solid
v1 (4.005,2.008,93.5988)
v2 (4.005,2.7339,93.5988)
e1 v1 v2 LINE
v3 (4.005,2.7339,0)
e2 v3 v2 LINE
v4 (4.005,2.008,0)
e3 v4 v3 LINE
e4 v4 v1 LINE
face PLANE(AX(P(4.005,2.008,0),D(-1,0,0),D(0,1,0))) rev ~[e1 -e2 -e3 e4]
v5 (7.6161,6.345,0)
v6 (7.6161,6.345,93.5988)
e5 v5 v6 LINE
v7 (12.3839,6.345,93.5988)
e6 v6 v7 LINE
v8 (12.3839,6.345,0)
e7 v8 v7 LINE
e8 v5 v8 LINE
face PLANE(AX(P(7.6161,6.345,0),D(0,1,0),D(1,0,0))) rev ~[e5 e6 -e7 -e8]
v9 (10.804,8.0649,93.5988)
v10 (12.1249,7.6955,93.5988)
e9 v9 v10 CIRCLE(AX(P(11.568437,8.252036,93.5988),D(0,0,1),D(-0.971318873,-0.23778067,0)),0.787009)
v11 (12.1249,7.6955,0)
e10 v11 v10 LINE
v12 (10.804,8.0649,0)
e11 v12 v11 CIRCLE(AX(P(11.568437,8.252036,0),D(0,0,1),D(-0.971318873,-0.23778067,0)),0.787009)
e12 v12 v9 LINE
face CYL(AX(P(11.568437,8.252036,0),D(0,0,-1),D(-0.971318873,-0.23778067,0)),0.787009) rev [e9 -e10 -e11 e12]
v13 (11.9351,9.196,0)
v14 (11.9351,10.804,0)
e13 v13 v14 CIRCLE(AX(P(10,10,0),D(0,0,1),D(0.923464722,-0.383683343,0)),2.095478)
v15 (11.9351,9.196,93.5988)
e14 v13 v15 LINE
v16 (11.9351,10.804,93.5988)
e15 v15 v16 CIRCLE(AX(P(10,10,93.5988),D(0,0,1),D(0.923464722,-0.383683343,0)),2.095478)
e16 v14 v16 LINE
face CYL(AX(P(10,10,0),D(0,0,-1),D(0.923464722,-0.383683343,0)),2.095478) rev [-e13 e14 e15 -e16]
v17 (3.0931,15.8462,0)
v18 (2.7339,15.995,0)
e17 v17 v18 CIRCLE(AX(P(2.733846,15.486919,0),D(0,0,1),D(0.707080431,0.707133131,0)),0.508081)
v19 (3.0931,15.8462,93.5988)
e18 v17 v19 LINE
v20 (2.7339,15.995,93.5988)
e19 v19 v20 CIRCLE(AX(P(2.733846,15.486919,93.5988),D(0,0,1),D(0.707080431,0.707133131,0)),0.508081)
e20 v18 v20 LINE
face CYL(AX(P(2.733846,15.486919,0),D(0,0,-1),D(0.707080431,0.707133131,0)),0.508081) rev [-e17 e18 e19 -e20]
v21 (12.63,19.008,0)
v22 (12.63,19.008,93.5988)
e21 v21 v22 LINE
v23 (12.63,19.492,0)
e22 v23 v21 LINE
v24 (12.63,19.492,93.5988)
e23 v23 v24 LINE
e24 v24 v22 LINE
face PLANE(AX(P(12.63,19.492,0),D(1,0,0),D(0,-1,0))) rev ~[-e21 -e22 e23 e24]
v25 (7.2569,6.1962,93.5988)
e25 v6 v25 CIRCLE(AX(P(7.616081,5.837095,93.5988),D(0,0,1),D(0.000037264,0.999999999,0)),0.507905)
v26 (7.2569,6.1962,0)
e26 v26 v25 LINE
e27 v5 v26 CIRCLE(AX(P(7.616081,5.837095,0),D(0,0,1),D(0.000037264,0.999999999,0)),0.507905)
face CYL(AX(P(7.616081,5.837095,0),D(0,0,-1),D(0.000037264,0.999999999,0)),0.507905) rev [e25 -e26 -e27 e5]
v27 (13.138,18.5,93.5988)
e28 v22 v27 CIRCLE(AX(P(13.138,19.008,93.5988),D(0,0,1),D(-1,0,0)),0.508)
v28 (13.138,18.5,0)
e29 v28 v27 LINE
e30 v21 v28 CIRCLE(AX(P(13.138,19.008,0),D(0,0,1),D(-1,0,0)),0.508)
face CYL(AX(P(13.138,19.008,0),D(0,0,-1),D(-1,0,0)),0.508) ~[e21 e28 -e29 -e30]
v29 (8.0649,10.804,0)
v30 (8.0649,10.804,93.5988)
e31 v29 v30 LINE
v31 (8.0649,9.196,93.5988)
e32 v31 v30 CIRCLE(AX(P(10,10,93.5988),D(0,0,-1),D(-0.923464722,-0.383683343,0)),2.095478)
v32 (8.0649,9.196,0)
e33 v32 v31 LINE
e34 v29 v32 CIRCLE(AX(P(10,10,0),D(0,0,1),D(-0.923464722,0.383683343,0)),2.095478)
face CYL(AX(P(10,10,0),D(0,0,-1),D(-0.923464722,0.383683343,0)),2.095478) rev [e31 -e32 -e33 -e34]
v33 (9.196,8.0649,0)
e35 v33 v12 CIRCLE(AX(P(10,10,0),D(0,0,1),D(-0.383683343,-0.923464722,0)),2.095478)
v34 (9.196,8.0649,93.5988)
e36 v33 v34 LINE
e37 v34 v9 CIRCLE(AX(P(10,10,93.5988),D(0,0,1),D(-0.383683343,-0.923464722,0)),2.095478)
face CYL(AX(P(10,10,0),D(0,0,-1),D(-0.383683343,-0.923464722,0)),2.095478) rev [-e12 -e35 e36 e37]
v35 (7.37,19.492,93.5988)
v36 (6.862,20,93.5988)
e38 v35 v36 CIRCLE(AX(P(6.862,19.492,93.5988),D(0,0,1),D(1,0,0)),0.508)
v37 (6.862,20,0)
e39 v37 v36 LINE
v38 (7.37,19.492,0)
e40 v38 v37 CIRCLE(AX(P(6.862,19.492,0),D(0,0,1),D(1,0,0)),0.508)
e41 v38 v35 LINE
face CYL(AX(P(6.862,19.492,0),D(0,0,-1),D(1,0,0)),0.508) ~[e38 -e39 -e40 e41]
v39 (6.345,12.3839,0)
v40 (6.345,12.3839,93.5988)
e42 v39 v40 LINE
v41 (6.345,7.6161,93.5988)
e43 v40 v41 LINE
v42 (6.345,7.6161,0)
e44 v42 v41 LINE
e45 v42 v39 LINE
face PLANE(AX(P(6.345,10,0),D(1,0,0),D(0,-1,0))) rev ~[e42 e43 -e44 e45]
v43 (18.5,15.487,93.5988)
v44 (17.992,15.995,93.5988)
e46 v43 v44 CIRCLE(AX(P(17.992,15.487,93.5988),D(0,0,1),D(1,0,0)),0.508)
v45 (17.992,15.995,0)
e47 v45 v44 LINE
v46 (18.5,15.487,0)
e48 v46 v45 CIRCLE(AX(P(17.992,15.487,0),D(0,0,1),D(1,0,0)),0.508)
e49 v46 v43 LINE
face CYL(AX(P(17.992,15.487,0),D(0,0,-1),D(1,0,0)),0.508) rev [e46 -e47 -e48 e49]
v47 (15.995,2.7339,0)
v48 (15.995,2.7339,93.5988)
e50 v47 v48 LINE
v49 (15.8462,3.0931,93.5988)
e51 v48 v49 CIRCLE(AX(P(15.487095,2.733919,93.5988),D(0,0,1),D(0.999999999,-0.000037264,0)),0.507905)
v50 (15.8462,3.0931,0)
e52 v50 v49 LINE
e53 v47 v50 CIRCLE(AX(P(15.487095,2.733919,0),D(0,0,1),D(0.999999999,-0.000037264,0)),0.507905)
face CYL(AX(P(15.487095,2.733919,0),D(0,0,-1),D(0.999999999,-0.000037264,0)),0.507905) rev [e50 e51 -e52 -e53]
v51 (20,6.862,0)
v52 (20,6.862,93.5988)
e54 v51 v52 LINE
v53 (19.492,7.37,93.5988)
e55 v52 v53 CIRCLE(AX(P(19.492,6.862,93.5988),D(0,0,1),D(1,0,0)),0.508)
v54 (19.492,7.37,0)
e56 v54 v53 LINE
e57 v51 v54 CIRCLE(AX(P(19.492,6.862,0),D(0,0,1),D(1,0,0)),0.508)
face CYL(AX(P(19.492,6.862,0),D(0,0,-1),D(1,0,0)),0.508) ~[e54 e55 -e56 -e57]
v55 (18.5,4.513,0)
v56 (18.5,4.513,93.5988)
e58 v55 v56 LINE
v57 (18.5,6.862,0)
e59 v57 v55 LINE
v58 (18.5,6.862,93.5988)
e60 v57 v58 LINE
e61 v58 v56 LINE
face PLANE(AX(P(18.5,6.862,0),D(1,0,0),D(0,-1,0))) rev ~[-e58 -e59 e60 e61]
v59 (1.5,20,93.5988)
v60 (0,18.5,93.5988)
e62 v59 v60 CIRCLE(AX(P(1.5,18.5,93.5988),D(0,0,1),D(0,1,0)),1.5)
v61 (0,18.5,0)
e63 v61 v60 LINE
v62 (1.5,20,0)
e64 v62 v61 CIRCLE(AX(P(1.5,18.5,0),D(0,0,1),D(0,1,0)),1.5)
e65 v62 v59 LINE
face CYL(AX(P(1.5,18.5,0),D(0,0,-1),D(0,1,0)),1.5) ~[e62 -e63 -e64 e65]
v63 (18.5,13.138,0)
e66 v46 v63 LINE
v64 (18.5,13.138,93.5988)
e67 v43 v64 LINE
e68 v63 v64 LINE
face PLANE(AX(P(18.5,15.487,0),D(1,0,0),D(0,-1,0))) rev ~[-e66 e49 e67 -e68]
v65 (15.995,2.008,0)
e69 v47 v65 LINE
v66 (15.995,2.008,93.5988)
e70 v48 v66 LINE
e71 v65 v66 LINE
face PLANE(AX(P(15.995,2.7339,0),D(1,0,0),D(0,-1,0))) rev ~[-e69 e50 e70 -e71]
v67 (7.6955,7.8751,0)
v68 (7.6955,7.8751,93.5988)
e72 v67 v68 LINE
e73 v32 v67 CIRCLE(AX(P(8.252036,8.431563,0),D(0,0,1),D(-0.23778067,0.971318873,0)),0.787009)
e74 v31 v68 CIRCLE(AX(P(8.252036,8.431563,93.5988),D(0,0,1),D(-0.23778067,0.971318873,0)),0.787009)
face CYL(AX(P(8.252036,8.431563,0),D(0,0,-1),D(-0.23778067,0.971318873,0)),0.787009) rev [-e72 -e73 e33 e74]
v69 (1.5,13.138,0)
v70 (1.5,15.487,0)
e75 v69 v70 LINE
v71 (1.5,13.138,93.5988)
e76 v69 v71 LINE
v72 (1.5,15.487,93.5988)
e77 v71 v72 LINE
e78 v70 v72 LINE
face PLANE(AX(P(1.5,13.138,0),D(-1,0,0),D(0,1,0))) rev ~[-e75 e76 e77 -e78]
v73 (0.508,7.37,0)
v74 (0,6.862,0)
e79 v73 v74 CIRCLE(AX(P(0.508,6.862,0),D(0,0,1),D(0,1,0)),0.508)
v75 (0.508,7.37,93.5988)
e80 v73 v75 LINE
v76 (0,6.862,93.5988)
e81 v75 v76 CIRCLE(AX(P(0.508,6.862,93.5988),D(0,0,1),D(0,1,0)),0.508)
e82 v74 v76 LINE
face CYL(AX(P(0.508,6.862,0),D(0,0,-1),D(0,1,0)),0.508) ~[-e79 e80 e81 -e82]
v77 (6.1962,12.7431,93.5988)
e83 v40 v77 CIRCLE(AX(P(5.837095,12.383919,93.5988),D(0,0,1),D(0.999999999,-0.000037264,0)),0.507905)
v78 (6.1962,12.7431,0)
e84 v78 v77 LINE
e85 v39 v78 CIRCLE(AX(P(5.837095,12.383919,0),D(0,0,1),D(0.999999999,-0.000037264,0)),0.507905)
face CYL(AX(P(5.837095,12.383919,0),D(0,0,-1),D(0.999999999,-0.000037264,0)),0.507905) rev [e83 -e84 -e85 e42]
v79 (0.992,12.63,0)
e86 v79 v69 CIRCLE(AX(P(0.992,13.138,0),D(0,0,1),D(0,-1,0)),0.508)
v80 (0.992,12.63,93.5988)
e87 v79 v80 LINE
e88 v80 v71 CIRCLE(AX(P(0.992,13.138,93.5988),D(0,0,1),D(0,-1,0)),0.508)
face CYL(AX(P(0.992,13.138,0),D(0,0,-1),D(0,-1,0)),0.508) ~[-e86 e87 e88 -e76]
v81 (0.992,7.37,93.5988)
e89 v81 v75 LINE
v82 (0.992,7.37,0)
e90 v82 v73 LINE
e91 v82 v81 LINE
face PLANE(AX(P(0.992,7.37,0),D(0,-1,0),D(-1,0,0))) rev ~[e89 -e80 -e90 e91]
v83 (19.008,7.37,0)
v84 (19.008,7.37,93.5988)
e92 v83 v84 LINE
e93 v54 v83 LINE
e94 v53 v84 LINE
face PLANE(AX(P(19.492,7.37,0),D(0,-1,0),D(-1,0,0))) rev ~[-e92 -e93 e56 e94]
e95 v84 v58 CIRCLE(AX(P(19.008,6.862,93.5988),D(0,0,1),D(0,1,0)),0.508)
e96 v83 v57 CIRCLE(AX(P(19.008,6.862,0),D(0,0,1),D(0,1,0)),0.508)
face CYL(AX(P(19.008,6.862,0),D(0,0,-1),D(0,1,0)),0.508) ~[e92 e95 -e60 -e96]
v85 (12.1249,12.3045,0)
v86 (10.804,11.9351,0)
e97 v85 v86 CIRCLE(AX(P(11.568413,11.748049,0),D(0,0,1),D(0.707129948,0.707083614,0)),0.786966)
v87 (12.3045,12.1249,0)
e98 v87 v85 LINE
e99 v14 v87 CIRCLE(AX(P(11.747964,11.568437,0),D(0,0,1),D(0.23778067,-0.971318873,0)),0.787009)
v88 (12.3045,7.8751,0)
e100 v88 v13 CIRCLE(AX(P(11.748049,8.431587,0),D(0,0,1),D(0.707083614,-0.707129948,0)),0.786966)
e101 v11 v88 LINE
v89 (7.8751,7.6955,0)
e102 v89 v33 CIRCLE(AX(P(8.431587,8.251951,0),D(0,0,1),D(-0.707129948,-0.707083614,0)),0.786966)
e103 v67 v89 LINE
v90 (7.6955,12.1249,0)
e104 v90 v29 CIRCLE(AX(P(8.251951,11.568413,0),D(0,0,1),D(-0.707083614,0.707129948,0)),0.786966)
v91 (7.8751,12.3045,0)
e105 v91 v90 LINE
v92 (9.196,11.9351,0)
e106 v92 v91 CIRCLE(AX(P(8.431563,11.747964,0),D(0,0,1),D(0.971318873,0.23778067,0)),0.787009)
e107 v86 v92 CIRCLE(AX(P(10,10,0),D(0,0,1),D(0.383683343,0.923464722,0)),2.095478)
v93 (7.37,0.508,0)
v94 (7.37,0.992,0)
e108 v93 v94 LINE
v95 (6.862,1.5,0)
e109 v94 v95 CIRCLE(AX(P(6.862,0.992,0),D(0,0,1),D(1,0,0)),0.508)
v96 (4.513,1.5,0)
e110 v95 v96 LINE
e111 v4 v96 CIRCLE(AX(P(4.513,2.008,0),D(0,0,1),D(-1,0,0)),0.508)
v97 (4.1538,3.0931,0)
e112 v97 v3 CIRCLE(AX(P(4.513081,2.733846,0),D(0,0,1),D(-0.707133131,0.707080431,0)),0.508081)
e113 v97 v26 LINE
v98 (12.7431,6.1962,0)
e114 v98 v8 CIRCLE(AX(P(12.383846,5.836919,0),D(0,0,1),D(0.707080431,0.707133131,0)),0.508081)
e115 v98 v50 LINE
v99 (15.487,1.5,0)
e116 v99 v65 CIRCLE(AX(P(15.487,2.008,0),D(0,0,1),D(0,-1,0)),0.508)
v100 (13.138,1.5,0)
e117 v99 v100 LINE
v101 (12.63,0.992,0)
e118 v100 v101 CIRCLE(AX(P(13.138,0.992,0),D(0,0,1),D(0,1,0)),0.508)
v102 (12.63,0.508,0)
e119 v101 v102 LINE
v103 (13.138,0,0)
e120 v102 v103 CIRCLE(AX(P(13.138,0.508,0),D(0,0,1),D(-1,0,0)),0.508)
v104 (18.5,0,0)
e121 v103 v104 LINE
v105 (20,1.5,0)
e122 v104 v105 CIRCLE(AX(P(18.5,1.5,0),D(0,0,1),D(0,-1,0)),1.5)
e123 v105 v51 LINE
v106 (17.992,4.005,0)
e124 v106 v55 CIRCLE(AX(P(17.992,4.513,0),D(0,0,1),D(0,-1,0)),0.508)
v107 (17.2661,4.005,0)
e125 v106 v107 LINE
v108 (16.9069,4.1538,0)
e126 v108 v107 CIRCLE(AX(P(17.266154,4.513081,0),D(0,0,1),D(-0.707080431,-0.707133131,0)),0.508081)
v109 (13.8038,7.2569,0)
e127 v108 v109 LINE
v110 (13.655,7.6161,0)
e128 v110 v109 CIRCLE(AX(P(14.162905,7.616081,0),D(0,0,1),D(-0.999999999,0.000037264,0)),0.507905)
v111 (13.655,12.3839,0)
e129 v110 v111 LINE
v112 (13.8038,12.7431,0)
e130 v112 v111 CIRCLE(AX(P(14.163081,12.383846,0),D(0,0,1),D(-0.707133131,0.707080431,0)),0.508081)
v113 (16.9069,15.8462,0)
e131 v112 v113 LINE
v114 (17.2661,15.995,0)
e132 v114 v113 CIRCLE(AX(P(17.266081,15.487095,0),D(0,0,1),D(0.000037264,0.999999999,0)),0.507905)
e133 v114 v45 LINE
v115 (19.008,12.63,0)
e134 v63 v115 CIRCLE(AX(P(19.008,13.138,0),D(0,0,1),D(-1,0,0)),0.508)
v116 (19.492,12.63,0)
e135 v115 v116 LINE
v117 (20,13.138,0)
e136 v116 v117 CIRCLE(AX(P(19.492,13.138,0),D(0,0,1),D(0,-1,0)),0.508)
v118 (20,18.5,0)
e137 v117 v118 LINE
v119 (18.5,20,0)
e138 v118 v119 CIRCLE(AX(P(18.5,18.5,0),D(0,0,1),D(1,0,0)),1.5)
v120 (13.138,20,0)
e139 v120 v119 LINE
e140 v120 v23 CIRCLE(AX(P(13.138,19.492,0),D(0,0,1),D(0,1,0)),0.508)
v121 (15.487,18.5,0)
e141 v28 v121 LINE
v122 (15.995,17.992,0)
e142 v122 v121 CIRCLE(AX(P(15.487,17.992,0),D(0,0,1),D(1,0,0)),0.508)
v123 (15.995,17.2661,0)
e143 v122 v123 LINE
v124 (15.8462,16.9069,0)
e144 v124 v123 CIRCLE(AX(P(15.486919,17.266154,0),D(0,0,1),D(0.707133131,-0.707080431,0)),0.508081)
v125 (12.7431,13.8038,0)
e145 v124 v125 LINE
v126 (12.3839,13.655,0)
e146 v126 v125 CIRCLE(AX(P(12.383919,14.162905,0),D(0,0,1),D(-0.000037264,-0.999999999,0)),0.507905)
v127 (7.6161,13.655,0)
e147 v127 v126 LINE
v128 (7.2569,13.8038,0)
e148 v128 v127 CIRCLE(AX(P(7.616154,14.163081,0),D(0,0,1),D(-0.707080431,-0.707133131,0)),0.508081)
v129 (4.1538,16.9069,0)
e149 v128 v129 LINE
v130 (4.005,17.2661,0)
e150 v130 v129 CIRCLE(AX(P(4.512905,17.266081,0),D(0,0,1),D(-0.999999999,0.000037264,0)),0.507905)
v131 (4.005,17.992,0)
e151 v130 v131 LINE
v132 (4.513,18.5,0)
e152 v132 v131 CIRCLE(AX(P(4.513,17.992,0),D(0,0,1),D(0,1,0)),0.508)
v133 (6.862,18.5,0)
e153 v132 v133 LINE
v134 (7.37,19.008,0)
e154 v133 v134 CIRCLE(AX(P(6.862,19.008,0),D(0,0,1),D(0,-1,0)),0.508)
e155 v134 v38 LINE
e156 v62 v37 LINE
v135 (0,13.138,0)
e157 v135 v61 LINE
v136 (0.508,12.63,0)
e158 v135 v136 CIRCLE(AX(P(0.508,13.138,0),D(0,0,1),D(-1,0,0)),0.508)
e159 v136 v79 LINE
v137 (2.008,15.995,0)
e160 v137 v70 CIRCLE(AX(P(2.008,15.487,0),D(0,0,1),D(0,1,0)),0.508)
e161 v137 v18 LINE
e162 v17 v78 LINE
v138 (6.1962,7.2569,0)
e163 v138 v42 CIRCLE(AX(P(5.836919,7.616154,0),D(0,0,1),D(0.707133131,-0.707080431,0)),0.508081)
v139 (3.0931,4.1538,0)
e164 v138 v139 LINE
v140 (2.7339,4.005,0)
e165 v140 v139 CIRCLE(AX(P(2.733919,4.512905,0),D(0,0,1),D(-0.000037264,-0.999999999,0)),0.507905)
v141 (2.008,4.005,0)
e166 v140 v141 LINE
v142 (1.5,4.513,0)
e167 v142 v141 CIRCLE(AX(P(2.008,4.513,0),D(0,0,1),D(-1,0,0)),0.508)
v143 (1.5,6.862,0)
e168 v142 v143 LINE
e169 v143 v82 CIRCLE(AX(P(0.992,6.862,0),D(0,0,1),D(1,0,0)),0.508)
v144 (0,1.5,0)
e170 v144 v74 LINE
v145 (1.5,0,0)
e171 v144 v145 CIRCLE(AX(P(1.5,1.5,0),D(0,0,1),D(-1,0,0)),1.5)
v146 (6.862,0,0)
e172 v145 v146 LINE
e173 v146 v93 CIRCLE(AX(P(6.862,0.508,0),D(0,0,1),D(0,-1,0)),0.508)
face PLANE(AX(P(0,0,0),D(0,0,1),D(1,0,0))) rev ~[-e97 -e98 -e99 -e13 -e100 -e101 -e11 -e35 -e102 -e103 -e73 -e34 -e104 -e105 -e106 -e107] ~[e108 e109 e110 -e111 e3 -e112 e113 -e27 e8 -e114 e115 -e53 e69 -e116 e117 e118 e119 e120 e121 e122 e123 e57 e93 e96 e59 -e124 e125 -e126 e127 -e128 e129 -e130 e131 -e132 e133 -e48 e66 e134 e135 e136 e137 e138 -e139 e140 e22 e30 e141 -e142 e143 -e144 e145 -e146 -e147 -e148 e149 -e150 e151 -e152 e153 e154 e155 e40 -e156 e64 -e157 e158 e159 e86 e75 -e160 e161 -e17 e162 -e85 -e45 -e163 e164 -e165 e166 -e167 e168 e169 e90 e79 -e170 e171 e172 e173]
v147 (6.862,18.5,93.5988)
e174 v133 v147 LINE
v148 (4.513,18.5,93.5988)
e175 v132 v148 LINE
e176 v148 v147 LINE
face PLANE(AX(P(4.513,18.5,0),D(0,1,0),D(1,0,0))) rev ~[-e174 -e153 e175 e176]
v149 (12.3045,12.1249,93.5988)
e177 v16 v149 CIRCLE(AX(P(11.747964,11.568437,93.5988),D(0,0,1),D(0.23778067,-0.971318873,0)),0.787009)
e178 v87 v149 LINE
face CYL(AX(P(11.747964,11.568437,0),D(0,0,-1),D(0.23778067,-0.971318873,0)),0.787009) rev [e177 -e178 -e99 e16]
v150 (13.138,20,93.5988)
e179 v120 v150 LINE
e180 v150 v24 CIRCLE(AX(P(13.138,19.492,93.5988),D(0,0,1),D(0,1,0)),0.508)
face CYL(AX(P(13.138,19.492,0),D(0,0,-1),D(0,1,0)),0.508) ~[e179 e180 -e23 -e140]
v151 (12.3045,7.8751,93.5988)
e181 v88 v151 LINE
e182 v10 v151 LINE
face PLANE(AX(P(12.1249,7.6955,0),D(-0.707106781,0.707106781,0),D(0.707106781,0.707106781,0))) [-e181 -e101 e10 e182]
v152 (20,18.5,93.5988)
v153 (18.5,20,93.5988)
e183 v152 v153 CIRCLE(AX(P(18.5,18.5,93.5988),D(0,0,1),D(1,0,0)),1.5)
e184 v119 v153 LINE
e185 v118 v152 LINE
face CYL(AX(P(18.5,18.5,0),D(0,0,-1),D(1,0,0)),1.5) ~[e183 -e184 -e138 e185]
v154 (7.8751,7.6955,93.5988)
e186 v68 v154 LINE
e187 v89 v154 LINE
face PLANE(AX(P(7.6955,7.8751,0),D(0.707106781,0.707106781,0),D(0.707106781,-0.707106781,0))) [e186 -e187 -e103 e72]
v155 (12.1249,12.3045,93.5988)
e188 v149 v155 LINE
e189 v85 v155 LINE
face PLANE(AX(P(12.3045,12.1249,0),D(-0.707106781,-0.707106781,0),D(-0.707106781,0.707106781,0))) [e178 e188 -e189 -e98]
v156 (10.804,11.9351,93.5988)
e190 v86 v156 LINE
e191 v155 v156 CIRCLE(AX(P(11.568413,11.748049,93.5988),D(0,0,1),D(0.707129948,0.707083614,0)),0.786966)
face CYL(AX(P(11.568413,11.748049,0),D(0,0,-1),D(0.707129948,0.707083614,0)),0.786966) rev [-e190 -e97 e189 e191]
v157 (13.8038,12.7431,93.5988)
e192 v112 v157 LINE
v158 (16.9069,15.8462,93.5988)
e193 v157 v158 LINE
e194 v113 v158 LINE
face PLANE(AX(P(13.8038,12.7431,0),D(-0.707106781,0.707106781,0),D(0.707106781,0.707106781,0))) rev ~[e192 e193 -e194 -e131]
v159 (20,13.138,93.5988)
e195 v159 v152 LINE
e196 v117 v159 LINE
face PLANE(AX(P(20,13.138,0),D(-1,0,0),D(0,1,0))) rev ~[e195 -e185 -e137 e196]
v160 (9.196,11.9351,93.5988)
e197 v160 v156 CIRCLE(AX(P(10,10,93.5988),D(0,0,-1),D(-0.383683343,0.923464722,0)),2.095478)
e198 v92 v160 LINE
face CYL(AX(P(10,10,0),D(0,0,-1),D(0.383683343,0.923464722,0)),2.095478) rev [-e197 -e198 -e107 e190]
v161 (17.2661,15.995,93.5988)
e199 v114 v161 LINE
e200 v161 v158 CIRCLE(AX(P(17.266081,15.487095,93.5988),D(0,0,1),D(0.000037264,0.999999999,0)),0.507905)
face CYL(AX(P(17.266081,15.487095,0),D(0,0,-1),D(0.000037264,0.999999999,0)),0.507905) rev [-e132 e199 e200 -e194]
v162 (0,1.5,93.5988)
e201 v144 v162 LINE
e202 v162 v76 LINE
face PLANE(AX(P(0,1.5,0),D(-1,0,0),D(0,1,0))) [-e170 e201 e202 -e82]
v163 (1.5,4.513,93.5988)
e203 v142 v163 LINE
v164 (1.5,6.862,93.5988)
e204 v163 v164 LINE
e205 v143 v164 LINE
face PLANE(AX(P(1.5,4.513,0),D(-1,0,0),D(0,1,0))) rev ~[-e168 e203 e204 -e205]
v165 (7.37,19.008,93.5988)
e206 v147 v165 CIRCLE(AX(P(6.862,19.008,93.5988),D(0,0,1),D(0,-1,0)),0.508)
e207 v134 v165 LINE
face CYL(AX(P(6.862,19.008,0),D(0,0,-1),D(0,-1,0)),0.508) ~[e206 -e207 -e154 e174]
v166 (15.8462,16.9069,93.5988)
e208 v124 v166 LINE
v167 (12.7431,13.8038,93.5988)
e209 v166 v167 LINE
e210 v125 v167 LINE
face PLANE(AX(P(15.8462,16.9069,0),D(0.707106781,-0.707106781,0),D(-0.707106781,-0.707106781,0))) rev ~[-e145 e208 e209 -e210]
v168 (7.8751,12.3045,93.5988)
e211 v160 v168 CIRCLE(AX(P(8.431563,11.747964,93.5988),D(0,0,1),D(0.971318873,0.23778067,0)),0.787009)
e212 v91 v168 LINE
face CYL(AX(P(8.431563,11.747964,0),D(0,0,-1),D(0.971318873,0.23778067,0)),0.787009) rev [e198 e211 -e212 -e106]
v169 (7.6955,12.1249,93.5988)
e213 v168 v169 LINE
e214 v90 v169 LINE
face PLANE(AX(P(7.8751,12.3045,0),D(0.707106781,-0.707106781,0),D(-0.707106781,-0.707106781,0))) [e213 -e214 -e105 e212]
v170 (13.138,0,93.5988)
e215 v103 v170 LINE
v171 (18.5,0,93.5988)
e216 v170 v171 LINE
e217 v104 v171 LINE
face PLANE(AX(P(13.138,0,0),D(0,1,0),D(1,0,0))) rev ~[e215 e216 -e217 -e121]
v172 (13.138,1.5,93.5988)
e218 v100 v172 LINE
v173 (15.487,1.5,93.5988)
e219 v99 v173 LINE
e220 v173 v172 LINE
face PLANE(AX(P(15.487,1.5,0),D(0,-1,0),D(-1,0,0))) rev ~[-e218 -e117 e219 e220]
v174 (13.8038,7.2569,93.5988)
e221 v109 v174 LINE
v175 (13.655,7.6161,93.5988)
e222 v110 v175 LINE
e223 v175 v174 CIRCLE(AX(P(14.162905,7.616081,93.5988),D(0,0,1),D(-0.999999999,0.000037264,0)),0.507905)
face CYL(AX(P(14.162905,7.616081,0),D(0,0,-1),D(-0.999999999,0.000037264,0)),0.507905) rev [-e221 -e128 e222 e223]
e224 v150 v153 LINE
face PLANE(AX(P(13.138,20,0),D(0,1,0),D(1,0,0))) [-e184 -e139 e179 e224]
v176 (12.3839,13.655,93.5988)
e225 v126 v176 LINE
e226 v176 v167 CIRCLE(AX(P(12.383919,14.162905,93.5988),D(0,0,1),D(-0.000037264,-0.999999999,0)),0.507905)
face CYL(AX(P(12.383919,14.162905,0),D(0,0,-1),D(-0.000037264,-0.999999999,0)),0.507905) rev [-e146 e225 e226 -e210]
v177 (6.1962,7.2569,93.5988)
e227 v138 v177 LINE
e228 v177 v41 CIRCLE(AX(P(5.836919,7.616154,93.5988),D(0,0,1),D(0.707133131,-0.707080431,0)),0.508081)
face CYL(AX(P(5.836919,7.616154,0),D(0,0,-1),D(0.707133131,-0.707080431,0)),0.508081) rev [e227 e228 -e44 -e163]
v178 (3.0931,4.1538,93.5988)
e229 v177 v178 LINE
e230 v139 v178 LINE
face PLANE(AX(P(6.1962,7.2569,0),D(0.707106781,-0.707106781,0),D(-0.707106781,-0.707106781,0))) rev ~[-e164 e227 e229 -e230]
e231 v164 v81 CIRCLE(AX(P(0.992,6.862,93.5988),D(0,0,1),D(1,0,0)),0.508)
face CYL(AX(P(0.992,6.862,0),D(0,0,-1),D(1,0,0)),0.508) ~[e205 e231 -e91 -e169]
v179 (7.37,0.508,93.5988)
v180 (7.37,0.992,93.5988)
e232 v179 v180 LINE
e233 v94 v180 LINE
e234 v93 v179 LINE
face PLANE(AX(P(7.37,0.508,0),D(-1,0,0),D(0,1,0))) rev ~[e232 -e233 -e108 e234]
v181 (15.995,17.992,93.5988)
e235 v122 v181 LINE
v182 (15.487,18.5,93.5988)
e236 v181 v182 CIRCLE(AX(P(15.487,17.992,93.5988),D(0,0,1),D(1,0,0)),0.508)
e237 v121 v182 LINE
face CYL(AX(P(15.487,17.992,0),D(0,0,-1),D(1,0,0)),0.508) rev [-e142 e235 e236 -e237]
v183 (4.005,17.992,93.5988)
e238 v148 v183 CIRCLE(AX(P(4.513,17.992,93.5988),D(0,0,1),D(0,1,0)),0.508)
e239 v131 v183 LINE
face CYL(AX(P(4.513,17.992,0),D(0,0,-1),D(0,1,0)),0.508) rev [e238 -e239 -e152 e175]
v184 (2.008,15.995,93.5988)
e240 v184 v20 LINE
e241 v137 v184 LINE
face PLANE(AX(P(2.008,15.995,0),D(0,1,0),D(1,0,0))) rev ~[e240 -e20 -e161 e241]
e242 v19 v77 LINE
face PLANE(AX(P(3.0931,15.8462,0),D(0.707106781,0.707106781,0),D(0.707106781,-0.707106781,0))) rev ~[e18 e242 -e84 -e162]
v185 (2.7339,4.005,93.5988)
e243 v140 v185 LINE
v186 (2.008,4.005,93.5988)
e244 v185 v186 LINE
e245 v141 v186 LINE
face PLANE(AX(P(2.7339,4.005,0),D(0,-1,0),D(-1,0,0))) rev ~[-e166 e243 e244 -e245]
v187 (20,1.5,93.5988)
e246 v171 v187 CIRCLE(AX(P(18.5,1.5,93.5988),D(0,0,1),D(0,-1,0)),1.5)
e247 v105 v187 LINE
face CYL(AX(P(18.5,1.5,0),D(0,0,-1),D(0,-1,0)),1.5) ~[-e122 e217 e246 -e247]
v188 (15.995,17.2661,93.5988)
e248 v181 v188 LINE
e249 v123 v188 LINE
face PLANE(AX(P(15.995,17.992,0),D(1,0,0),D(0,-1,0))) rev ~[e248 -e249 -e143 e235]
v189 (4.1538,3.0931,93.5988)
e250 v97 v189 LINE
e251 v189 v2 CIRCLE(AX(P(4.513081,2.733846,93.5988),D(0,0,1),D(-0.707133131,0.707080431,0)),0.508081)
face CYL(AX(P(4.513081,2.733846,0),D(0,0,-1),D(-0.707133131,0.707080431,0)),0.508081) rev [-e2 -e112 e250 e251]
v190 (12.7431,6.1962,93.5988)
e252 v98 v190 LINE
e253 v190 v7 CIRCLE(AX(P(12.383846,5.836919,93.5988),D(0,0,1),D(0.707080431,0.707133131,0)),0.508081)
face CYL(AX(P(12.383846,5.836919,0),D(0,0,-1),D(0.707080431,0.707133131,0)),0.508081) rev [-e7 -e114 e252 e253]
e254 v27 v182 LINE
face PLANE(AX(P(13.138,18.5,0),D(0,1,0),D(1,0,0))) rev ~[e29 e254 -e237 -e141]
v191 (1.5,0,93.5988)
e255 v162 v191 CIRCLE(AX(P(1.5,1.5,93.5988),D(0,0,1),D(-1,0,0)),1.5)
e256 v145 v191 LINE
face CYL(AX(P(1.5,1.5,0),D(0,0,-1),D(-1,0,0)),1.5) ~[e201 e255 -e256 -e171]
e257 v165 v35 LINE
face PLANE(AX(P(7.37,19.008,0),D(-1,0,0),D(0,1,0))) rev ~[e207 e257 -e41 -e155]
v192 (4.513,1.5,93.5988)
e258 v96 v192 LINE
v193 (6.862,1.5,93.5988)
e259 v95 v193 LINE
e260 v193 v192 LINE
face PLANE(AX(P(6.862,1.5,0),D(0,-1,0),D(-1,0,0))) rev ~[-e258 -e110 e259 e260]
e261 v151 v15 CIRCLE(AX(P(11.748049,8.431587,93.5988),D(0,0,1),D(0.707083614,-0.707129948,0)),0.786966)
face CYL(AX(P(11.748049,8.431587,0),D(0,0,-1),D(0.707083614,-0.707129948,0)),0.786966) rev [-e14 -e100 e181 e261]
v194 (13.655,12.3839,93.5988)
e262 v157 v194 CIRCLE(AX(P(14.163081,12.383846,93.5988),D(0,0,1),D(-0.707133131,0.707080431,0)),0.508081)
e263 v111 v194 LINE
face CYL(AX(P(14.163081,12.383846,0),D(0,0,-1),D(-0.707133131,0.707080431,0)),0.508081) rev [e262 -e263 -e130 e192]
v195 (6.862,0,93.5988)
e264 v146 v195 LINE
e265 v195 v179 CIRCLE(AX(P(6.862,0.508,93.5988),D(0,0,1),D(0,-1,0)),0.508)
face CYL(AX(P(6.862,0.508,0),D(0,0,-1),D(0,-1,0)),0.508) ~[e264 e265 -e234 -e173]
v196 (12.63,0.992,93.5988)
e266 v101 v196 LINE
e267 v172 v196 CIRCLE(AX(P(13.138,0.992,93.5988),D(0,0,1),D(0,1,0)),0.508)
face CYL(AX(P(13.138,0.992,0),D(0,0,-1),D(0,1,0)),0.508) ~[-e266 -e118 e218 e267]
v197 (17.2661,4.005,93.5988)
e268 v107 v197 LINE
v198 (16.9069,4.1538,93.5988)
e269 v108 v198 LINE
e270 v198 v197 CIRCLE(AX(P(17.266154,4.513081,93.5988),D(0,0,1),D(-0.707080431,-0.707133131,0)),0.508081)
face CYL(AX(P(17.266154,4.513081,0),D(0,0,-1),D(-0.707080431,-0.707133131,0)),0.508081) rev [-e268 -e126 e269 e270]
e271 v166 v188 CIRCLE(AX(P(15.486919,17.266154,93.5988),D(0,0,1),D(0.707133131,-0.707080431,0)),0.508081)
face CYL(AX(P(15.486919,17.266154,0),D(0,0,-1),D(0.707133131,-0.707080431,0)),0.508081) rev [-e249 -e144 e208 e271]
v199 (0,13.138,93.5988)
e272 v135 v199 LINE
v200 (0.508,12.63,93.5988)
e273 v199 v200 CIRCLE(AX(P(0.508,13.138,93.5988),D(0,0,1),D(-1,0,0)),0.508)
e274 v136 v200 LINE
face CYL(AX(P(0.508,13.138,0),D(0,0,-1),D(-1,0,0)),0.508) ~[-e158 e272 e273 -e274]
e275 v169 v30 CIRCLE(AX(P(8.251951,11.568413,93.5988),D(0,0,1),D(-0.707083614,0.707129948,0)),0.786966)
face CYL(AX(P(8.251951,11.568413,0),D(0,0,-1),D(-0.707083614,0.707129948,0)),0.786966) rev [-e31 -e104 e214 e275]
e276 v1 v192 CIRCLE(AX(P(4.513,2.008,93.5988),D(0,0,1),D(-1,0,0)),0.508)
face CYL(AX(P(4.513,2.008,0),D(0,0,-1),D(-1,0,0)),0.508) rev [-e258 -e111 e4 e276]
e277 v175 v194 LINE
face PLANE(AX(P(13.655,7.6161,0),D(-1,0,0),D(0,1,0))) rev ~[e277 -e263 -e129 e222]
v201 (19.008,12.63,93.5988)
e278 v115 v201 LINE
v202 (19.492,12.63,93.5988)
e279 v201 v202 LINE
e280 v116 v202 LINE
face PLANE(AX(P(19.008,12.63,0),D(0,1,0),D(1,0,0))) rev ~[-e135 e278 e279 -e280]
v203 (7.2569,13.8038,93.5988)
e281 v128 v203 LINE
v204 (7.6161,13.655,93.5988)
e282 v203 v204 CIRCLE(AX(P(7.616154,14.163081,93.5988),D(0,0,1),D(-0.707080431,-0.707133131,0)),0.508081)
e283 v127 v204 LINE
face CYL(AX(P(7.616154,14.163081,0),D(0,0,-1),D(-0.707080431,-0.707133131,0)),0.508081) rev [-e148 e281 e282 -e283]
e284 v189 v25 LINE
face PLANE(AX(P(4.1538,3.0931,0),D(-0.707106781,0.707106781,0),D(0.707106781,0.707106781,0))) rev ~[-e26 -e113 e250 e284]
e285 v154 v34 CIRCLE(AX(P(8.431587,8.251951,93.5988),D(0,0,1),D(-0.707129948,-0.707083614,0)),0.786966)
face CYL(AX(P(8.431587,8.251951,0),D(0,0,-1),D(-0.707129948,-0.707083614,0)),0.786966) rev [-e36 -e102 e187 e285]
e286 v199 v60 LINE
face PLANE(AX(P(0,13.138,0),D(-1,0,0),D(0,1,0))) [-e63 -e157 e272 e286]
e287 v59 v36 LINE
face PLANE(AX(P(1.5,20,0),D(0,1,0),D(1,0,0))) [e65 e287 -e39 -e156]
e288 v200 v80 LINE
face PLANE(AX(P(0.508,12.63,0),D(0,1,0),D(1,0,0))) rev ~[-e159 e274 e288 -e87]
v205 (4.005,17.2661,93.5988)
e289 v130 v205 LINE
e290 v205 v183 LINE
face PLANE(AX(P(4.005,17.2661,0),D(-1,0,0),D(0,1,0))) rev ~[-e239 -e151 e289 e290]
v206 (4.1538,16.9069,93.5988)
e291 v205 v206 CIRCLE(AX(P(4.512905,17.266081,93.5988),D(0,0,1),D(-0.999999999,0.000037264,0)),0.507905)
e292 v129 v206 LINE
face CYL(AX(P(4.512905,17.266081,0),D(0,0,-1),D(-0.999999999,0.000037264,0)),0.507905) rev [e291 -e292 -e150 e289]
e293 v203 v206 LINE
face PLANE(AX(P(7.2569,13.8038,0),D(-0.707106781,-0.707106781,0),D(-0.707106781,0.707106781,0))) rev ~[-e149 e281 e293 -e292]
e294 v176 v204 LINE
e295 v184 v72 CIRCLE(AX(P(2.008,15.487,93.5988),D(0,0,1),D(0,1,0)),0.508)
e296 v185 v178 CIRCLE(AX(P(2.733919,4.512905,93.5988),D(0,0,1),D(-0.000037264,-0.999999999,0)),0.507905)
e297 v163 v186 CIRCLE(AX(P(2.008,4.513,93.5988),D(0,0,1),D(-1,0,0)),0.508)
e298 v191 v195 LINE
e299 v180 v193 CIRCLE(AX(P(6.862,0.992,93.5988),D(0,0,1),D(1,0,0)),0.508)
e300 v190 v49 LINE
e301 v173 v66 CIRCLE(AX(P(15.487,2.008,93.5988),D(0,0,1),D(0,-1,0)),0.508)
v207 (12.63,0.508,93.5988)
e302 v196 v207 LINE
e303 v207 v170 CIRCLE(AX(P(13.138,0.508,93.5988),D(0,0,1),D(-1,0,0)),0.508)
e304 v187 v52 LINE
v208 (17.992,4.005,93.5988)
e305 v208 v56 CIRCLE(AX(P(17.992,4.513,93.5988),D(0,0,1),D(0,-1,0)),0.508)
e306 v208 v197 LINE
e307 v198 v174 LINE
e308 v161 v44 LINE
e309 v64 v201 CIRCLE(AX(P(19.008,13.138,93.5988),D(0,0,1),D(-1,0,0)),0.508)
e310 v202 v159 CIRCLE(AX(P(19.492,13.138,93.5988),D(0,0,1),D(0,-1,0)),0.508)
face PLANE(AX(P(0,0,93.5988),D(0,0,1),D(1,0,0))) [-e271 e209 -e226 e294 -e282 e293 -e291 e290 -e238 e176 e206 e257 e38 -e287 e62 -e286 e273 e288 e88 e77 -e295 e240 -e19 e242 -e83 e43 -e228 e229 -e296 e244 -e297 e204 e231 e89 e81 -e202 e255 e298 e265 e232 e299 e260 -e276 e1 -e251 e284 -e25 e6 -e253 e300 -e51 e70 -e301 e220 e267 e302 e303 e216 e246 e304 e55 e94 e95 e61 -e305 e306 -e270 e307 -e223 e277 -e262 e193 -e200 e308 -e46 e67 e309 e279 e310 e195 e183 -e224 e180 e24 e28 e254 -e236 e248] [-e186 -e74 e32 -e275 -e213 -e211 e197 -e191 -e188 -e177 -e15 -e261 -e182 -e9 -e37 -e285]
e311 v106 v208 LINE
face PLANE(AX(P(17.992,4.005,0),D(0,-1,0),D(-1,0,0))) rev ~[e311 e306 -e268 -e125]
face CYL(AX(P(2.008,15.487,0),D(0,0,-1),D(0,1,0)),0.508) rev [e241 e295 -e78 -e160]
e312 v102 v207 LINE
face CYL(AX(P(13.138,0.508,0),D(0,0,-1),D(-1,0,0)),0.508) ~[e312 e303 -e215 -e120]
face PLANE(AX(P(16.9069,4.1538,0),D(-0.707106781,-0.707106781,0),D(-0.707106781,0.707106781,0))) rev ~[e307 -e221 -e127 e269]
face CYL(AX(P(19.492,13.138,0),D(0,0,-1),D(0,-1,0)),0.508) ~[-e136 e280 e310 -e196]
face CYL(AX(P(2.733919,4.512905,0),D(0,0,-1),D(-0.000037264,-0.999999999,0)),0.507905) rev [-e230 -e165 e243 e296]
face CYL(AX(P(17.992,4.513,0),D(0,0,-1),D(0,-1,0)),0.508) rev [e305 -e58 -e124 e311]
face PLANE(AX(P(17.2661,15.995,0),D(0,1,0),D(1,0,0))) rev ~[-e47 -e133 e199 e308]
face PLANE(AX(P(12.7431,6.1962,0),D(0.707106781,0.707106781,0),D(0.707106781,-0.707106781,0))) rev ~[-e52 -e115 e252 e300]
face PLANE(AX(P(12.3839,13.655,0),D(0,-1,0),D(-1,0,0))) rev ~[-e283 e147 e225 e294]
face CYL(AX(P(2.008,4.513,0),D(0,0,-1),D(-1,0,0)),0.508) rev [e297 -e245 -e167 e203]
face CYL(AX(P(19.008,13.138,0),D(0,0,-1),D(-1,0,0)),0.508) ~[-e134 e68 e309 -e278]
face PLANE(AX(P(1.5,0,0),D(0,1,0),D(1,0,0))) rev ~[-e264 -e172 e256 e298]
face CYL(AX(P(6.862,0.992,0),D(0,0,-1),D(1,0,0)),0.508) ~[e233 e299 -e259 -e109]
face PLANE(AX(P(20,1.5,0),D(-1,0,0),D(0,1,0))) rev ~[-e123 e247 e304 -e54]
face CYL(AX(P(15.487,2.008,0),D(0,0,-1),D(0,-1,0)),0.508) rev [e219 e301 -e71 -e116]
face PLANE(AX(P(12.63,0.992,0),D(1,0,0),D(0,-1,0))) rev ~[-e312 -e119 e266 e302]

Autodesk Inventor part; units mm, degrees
ref_plane "YZ Plane" through (0, 0, 0) normal (1, 0, 0) x (0, 1, 0)
ref_plane "XZ Plane" through (0, 0, 0) normal (0, 1, 0) x (-1, 0, 0)
sketch "Sketch1" plane through (0, 0, 0) normal (0, 0, 1) x (1, 0, 0)
  line L0 (0, 0) -> (20, 0) projected
  line L1 (20, 0) -> (20, 20) projected
  line L2 (0, 20) -> (20, 20) projected
  line L3 (0, 0) -> (0, 20) projected
  line L4 (0, 20) -> (10, 20)
  line L5 (10, 20) -> (10, 10)
  line L6 (10, 10) -> (0, 10)
  line L7 (0, 10) -> (0, 20)
  arc A0 (10.804, 8.0649) -> (12.1249, 7.6955) centre (11.5684, 8.252) ccw
  line L8 (12.1249, 7.6955) -> (12.3045, 7.8751)
  arc A1 (12.3045, 7.8751) -> (11.9351, 9.196) centre (11.748, 8.4316) ccw
  arc A2 (11.9351, 9.196) -> (11.9351, 10.804) centre (10, 10) ccw
  arc A3 (11.9351, 10.804) -> (12.3045, 12.1249) centre (11.748, 11.5684) ccw
  line L9 (12.3045, 12.1249) -> (12.1249, 12.3045)
  arc A4 (12.1249, 12.3045) -> (10.804, 11.9351) centre (11.5684, 11.748) ccw
  arc A5 (10.804, 11.9351) -> (9.196, 11.9351) centre (10, 10) ccw
  arc A6 (9.196, 11.9351) -> (7.8751, 12.3045) centre (8.4316, 11.748) ccw
  line L10 (7.8751, 12.3045) -> (7.6955, 12.1249)
  arc A7 (7.6955, 12.1249) -> (8.0649, 10.804) centre (8.252, 11.5684) ccw
  arc A8 (8.0649, 10.804) -> (8.0649, 9.196) centre (10, 10) ccw
  arc A9 (8.0649, 9.196) -> (7.6955, 7.8751) centre (8.252, 8.4316) ccw
  line L11 (7.6955, 7.8751) -> (7.8751, 7.6955)
  arc A10 (7.8751, 7.6955) -> (9.196, 8.0649) centre (8.4316, 8.252) ccw
  arc A11 (9.196, 8.0649) -> (10.804, 8.0649) centre (10, 10) ccw
  line L12 (19.008, 12.63) -> (19.492, 12.63)
  arc A12 (18.5, 13.138) -> (19.008, 12.63) centre (19.008, 13.138) ccw
  line L13 (18.5, 15.487) -> (18.5, 13.138)
  arc A13 (18.5, 15.487) -> (17.992, 15.995) centre (17.992, 15.487) ccw
  line L14 (17.2661, 15.995) -> (17.992, 15.995)
  arc A14 (17.2661, 15.995) -> (16.9069, 15.8462) centre (17.2661, 15.487) ccw
  line L15 (13.8038, 12.7431) -> (16.9069, 15.8462)
  arc A15 (13.8038, 12.7431) -> (13.655, 12.3839) centre (14.163, 12.3839) ccw
  line L16 (13.655, 7.6161) -> (13.655, 12.3839)
  arc A16 (13.655, 7.6161) -> (13.8038, 7.2569) centre (14.163, 7.6161) ccw
  line L17 (16.9069, 4.1538) -> (13.8038, 7.2569)
  arc A17 (16.9069, 4.1538) -> (17.2661, 4.005) centre (17.2661, 4.513) ccw
  line L18 (17.992, 4.005) -> (17.2661, 4.005)
  arc A18 (17.992, 4.005) -> (18.5, 4.513) centre (17.992, 4.513) ccw
  line L19 (18.5, 6.862) -> (18.5, 4.513)
  arc A19 (19.008, 7.37) -> (18.5, 6.862) centre (19.008, 6.862) ccw
  line L20 (19.492, 7.37) -> (19.008, 7.37)
  arc A20 (20, 6.862) -> (19.492, 7.37) centre (19.492, 6.862) ccw
  line L21 (20, 1.5) -> (20, 6.862)
  arc A21 (18.5, 0) -> (20, 1.5) centre (18.5, 1.5) ccw
  line L22 (13.138, 0) -> (18.5, 0)
  arc A22 (12.63, 0.508) -> (13.138, 0) centre (13.138, 0.508) ccw
  line L23 (12.63, 0.992) -> (12.63, 0.508)
  arc A23 (13.138, 1.5) -> (12.63, 0.992) centre (13.138, 0.992) ccw
  line L24 (15.487, 1.5) -> (13.138, 1.5)
  arc A24 (15.487, 1.5) -> (15.995, 2.008) centre (15.487, 2.008) ccw
  line L25 (15.995, 2.7339) -> (15.995, 2.008)
  arc A25 (15.995, 2.7339) -> (15.8462, 3.0931) centre (15.487, 2.7339) ccw
  line L26 (12.7431, 6.1962) -> (15.8462, 3.0931)
  arc A26 (12.7431, 6.1962) -> (12.3839, 6.345) centre (12.3839, 5.837) ccw
  line L27 (7.6161, 6.345) -> (12.3839, 6.345)
  arc A27 (7.6161, 6.345) -> (7.2569, 6.1962) centre (7.6161, 5.837) ccw
  line L28 (4.1538, 3.0931) -> (7.2569, 6.1962)
  arc A28 (4.1538, 3.0931) -> (4.005, 2.7339) centre (4.513, 2.7339) ccw
  line L29 (4.005, 2.008) -> (4.005, 2.7339)
  arc A29 (4.005, 2.008) -> (4.513, 1.5) centre (4.513, 2.008) ccw
  line L30 (6.862, 1.5) -> (4.513, 1.5)
  arc A30 (7.37, 0.992) -> (6.862, 1.5) centre (6.862, 0.992) ccw
  line L31 (7.37, 0.508) -> (7.37, 0.992)
  arc A31 (6.862, 0) -> (7.37, 0.508) centre (6.862, 0.508) ccw
  line L32 (1.5, 0) -> (6.862, 0)
  arc A32 (0, 1.5) -> (1.5, 0) centre (1.5, 1.5) ccw
  line L33 (0, 6.862) -> (0, 1.5)
  arc A33 (0.508, 7.37) -> (0, 6.862) centre (0.508, 6.862) ccw
  line L34 (0.992, 7.37) -> (0.508, 7.37)
  arc A34 (1.5, 6.862) -> (0.992, 7.37) centre (0.992, 6.862) ccw
  line L35 (1.5, 4.513) -> (1.5, 6.862)
  arc A35 (1.5, 4.513) -> (2.008, 4.005) centre (2.008, 4.513) ccw
  line L36 (2.7339, 4.005) -> (2.008, 4.005)
  arc A36 (2.7339, 4.005) -> (3.0931, 4.1538) centre (2.7339, 4.513) ccw
  line L37 (6.1962, 7.2569) -> (3.0931, 4.1538)
  arc A37 (6.1962, 7.2569) -> (6.345, 7.6161) centre (5.837, 7.6161) ccw
  line L38 (6.345, 12.3839) -> (6.345, 7.6161)
  arc A38 (6.345, 12.3839) -> (6.1962, 12.7431) centre (5.837, 12.3839) ccw
  line L39 (3.0931, 15.8462) -> (6.1962, 12.7431)
  arc A39 (3.0931, 15.8462) -> (2.7339, 15.995) centre (2.7339, 15.487) ccw
  line L40 (2.008, 15.995) -> (2.7339, 15.995)
  arc A40 (2.008, 15.995) -> (1.5, 15.487) centre (2.008, 15.487) ccw
  line L41 (1.5, 13.138) -> (1.5, 15.487)
  arc A41 (0.992, 12.63) -> (1.5, 13.138) centre (0.992, 13.138) ccw
  line L42 (0.508, 12.63) -> (0.992, 12.63)
  arc A42 (0, 13.138) -> (0.508, 12.63) centre (0.508, 13.138) ccw
  line L43 (0, 18.5) -> (0, 13.138)
  arc A43 (1.5, 20) -> (0, 18.5) centre (1.5, 18.5) ccw
  line L44 (6.862, 20) -> (1.5, 20)
  arc A44 (7.37, 19.492) -> (6.862, 20) centre (6.862, 19.492) ccw
  line L45 (7.37, 19.008) -> (7.37, 19.492)
  arc A45 (6.862, 18.5) -> (7.37, 19.008) centre (6.862, 19.008) ccw
  line L46 (4.513, 18.5) -> (6.862, 18.5)
  arc A46 (4.513, 18.5) -> (4.005, 17.992) centre (4.513, 17.992) ccw
  line L47 (4.005, 17.2661) -> (4.005, 17.992)
  arc A47 (4.005, 17.2661) -> (4.1538, 16.9069) centre (4.513, 17.2661) ccw
  line L48 (7.2569, 13.8038) -> (4.1538, 16.9069)
  arc A48 (7.2569, 13.8038) -> (7.6161, 13.655) centre (7.6161, 14.163) ccw
  line L49 (12.3839, 13.655) -> (7.6161, 13.655)
  arc A49 (12.3839, 13.655) -> (12.7431, 13.8038) centre (12.3839, 14.163) ccw
  line L50 (15.8462, 16.9069) -> (12.7431, 13.8038)
  arc A50 (15.8462, 16.9069) -> (15.995, 17.2661) centre (15.487, 17.2661) ccw
  line L51 (15.995, 17.992) -> (15.995, 17.2661)
  arc A51 (15.995, 17.992) -> (15.487, 18.5) centre (15.487, 17.992) ccw
  line L52 (13.138, 18.5) -> (15.487, 18.5)
  arc A52 (12.63, 19.008) -> (13.138, 18.5) centre (13.138, 19.008) ccw
  line L53 (12.63, 19.492) -> (12.63, 19.008)
  arc A53 (13.138, 20) -> (12.63, 19.492) centre (13.138, 19.492) ccw
  line L54 (18.5, 20) -> (13.138, 20)
  arc A54 (20, 18.5) -> (18.5, 20) centre (18.5, 18.5) ccw
  line L55 (20, 13.138) -> (20, 18.5)
  arc A55 (19.492, 12.63) -> (20, 13.138) centre (19.492, 13.138) ccw
  point P0 (8.0649, 10.804)
  point P1 (7.8751, 12.3045)
  point P2 (9.196, 11.9351)
  point P3 (10.804, 11.9351)
  point P4 (12.3045, 12.1249)
  point P5 (11.9351, 10.804)
  point P6 (11.9351, 9.196)
  point P7 (12.1249, 7.6955)
  point P8 (10.804, 8.0649)
  point P9 (9.196, 8.0649)
  point P10 (7.6955, 7.8751)
  point P11 (8.0649, 9.196)
  point P12 (3.0931, 4.1538)
  point P13 (2.008, 4.005)
  point P14 (1.5, 6.862)
  point P15 (0.508, 7.37)
  point P16 (0, 1.5)
  point P17 (6.862, 0)
  point P18 (7.37, 0.508)
  point P19 (7.37, 0.992)
  point P20 (4.513, 1.5)
  point P21 (4.005, 2.7339)
  point P22 (7.2569, 6.1962)
  point P23 (12.3839, 6.345)
  point P24 (15.8462, 3.0931)
  point P25 (15.995, 2.008)
  point P26 (13.138, 1.5)
  point P27 (12.63, 0.508)
  point P28 (18.5, 0)
  point P29 (20, 6.862)
  point P30 (19.492, 7.37)
  point P31 (19.008, 7.37)
  point P32 (18.5, 4.513)
  point P33 (17.2661, 4.005)
  point P34 (13.8038, 7.2569)
  point P35 (13.655, 12.3839)
  point P36 (16.9069, 15.8462)
  point P37 (17.992, 15.995)
  point P38 (18.5, 13.138)
  point P39 (19.492, 12.63)
  point P40 (20, 18.5)
  point P41 (13.138, 20)
  point P42 (12.63, 19.492)
  point P43 (12.63, 19.008)
  point P44 (15.487, 18.5)
  point P45 (15.995, 17.2661)
  point P46 (12.7431, 13.8038)
  point P47 (4.1538, 16.9069)
  point P48 (4.005, 17.992)
  point P49 (6.862, 18.5)
  point P50 (7.37, 19.492)
  point P51 (1.5, 20)
  point P52 (0, 13.138)
  point P53 (0.508, 12.63)
  point P54 (0.992, 12.63)
  point P55 (1.5, 15.487)
  point P56 (2.7339, 15.995)
  point P57 (6.1962, 12.7431)
ref_plane "Work Plane1" through (-70.9931, -4.3, 93.5988) normal (0, 0, -1) x (0, 1, 0)
extrude "Extrusion1" add sketch "Sketch1" along normal up to surface (93.5988 mm away) contours A32 L3 A33 L34 A34 L35 A35 L36 A36 L37 A37 L38 L6 A8 A9 L11 A10 A11 A0 L8 A1 A2 A3 L9 A4 A5 L5 L49 A49 L50 A50 L51 A51 L52 A52 L53 A53 L2 A54 L1 A55 L12 A12 L13 A13 L14 A14 L15 A15 L16 A16 L17 A17 L18 A18 L19 A19 L20 A20 A21 L0 A22 L23 A23 L24 A24 L25 A25 L26 A26 L27 A27 L28 A28 L29 A29 L30 A30 L31 A31 | L3 A43 L2 A44 L45 A45 L46 A46 L47 A47 L48 A48 L49 L5 A5 A6 L10 A7 A8 L6 L38 A38 L39 A39 L40 A40 L41 A41 L42 A42
properties part number "2020_extrusion" material "Aluminum 6061"
